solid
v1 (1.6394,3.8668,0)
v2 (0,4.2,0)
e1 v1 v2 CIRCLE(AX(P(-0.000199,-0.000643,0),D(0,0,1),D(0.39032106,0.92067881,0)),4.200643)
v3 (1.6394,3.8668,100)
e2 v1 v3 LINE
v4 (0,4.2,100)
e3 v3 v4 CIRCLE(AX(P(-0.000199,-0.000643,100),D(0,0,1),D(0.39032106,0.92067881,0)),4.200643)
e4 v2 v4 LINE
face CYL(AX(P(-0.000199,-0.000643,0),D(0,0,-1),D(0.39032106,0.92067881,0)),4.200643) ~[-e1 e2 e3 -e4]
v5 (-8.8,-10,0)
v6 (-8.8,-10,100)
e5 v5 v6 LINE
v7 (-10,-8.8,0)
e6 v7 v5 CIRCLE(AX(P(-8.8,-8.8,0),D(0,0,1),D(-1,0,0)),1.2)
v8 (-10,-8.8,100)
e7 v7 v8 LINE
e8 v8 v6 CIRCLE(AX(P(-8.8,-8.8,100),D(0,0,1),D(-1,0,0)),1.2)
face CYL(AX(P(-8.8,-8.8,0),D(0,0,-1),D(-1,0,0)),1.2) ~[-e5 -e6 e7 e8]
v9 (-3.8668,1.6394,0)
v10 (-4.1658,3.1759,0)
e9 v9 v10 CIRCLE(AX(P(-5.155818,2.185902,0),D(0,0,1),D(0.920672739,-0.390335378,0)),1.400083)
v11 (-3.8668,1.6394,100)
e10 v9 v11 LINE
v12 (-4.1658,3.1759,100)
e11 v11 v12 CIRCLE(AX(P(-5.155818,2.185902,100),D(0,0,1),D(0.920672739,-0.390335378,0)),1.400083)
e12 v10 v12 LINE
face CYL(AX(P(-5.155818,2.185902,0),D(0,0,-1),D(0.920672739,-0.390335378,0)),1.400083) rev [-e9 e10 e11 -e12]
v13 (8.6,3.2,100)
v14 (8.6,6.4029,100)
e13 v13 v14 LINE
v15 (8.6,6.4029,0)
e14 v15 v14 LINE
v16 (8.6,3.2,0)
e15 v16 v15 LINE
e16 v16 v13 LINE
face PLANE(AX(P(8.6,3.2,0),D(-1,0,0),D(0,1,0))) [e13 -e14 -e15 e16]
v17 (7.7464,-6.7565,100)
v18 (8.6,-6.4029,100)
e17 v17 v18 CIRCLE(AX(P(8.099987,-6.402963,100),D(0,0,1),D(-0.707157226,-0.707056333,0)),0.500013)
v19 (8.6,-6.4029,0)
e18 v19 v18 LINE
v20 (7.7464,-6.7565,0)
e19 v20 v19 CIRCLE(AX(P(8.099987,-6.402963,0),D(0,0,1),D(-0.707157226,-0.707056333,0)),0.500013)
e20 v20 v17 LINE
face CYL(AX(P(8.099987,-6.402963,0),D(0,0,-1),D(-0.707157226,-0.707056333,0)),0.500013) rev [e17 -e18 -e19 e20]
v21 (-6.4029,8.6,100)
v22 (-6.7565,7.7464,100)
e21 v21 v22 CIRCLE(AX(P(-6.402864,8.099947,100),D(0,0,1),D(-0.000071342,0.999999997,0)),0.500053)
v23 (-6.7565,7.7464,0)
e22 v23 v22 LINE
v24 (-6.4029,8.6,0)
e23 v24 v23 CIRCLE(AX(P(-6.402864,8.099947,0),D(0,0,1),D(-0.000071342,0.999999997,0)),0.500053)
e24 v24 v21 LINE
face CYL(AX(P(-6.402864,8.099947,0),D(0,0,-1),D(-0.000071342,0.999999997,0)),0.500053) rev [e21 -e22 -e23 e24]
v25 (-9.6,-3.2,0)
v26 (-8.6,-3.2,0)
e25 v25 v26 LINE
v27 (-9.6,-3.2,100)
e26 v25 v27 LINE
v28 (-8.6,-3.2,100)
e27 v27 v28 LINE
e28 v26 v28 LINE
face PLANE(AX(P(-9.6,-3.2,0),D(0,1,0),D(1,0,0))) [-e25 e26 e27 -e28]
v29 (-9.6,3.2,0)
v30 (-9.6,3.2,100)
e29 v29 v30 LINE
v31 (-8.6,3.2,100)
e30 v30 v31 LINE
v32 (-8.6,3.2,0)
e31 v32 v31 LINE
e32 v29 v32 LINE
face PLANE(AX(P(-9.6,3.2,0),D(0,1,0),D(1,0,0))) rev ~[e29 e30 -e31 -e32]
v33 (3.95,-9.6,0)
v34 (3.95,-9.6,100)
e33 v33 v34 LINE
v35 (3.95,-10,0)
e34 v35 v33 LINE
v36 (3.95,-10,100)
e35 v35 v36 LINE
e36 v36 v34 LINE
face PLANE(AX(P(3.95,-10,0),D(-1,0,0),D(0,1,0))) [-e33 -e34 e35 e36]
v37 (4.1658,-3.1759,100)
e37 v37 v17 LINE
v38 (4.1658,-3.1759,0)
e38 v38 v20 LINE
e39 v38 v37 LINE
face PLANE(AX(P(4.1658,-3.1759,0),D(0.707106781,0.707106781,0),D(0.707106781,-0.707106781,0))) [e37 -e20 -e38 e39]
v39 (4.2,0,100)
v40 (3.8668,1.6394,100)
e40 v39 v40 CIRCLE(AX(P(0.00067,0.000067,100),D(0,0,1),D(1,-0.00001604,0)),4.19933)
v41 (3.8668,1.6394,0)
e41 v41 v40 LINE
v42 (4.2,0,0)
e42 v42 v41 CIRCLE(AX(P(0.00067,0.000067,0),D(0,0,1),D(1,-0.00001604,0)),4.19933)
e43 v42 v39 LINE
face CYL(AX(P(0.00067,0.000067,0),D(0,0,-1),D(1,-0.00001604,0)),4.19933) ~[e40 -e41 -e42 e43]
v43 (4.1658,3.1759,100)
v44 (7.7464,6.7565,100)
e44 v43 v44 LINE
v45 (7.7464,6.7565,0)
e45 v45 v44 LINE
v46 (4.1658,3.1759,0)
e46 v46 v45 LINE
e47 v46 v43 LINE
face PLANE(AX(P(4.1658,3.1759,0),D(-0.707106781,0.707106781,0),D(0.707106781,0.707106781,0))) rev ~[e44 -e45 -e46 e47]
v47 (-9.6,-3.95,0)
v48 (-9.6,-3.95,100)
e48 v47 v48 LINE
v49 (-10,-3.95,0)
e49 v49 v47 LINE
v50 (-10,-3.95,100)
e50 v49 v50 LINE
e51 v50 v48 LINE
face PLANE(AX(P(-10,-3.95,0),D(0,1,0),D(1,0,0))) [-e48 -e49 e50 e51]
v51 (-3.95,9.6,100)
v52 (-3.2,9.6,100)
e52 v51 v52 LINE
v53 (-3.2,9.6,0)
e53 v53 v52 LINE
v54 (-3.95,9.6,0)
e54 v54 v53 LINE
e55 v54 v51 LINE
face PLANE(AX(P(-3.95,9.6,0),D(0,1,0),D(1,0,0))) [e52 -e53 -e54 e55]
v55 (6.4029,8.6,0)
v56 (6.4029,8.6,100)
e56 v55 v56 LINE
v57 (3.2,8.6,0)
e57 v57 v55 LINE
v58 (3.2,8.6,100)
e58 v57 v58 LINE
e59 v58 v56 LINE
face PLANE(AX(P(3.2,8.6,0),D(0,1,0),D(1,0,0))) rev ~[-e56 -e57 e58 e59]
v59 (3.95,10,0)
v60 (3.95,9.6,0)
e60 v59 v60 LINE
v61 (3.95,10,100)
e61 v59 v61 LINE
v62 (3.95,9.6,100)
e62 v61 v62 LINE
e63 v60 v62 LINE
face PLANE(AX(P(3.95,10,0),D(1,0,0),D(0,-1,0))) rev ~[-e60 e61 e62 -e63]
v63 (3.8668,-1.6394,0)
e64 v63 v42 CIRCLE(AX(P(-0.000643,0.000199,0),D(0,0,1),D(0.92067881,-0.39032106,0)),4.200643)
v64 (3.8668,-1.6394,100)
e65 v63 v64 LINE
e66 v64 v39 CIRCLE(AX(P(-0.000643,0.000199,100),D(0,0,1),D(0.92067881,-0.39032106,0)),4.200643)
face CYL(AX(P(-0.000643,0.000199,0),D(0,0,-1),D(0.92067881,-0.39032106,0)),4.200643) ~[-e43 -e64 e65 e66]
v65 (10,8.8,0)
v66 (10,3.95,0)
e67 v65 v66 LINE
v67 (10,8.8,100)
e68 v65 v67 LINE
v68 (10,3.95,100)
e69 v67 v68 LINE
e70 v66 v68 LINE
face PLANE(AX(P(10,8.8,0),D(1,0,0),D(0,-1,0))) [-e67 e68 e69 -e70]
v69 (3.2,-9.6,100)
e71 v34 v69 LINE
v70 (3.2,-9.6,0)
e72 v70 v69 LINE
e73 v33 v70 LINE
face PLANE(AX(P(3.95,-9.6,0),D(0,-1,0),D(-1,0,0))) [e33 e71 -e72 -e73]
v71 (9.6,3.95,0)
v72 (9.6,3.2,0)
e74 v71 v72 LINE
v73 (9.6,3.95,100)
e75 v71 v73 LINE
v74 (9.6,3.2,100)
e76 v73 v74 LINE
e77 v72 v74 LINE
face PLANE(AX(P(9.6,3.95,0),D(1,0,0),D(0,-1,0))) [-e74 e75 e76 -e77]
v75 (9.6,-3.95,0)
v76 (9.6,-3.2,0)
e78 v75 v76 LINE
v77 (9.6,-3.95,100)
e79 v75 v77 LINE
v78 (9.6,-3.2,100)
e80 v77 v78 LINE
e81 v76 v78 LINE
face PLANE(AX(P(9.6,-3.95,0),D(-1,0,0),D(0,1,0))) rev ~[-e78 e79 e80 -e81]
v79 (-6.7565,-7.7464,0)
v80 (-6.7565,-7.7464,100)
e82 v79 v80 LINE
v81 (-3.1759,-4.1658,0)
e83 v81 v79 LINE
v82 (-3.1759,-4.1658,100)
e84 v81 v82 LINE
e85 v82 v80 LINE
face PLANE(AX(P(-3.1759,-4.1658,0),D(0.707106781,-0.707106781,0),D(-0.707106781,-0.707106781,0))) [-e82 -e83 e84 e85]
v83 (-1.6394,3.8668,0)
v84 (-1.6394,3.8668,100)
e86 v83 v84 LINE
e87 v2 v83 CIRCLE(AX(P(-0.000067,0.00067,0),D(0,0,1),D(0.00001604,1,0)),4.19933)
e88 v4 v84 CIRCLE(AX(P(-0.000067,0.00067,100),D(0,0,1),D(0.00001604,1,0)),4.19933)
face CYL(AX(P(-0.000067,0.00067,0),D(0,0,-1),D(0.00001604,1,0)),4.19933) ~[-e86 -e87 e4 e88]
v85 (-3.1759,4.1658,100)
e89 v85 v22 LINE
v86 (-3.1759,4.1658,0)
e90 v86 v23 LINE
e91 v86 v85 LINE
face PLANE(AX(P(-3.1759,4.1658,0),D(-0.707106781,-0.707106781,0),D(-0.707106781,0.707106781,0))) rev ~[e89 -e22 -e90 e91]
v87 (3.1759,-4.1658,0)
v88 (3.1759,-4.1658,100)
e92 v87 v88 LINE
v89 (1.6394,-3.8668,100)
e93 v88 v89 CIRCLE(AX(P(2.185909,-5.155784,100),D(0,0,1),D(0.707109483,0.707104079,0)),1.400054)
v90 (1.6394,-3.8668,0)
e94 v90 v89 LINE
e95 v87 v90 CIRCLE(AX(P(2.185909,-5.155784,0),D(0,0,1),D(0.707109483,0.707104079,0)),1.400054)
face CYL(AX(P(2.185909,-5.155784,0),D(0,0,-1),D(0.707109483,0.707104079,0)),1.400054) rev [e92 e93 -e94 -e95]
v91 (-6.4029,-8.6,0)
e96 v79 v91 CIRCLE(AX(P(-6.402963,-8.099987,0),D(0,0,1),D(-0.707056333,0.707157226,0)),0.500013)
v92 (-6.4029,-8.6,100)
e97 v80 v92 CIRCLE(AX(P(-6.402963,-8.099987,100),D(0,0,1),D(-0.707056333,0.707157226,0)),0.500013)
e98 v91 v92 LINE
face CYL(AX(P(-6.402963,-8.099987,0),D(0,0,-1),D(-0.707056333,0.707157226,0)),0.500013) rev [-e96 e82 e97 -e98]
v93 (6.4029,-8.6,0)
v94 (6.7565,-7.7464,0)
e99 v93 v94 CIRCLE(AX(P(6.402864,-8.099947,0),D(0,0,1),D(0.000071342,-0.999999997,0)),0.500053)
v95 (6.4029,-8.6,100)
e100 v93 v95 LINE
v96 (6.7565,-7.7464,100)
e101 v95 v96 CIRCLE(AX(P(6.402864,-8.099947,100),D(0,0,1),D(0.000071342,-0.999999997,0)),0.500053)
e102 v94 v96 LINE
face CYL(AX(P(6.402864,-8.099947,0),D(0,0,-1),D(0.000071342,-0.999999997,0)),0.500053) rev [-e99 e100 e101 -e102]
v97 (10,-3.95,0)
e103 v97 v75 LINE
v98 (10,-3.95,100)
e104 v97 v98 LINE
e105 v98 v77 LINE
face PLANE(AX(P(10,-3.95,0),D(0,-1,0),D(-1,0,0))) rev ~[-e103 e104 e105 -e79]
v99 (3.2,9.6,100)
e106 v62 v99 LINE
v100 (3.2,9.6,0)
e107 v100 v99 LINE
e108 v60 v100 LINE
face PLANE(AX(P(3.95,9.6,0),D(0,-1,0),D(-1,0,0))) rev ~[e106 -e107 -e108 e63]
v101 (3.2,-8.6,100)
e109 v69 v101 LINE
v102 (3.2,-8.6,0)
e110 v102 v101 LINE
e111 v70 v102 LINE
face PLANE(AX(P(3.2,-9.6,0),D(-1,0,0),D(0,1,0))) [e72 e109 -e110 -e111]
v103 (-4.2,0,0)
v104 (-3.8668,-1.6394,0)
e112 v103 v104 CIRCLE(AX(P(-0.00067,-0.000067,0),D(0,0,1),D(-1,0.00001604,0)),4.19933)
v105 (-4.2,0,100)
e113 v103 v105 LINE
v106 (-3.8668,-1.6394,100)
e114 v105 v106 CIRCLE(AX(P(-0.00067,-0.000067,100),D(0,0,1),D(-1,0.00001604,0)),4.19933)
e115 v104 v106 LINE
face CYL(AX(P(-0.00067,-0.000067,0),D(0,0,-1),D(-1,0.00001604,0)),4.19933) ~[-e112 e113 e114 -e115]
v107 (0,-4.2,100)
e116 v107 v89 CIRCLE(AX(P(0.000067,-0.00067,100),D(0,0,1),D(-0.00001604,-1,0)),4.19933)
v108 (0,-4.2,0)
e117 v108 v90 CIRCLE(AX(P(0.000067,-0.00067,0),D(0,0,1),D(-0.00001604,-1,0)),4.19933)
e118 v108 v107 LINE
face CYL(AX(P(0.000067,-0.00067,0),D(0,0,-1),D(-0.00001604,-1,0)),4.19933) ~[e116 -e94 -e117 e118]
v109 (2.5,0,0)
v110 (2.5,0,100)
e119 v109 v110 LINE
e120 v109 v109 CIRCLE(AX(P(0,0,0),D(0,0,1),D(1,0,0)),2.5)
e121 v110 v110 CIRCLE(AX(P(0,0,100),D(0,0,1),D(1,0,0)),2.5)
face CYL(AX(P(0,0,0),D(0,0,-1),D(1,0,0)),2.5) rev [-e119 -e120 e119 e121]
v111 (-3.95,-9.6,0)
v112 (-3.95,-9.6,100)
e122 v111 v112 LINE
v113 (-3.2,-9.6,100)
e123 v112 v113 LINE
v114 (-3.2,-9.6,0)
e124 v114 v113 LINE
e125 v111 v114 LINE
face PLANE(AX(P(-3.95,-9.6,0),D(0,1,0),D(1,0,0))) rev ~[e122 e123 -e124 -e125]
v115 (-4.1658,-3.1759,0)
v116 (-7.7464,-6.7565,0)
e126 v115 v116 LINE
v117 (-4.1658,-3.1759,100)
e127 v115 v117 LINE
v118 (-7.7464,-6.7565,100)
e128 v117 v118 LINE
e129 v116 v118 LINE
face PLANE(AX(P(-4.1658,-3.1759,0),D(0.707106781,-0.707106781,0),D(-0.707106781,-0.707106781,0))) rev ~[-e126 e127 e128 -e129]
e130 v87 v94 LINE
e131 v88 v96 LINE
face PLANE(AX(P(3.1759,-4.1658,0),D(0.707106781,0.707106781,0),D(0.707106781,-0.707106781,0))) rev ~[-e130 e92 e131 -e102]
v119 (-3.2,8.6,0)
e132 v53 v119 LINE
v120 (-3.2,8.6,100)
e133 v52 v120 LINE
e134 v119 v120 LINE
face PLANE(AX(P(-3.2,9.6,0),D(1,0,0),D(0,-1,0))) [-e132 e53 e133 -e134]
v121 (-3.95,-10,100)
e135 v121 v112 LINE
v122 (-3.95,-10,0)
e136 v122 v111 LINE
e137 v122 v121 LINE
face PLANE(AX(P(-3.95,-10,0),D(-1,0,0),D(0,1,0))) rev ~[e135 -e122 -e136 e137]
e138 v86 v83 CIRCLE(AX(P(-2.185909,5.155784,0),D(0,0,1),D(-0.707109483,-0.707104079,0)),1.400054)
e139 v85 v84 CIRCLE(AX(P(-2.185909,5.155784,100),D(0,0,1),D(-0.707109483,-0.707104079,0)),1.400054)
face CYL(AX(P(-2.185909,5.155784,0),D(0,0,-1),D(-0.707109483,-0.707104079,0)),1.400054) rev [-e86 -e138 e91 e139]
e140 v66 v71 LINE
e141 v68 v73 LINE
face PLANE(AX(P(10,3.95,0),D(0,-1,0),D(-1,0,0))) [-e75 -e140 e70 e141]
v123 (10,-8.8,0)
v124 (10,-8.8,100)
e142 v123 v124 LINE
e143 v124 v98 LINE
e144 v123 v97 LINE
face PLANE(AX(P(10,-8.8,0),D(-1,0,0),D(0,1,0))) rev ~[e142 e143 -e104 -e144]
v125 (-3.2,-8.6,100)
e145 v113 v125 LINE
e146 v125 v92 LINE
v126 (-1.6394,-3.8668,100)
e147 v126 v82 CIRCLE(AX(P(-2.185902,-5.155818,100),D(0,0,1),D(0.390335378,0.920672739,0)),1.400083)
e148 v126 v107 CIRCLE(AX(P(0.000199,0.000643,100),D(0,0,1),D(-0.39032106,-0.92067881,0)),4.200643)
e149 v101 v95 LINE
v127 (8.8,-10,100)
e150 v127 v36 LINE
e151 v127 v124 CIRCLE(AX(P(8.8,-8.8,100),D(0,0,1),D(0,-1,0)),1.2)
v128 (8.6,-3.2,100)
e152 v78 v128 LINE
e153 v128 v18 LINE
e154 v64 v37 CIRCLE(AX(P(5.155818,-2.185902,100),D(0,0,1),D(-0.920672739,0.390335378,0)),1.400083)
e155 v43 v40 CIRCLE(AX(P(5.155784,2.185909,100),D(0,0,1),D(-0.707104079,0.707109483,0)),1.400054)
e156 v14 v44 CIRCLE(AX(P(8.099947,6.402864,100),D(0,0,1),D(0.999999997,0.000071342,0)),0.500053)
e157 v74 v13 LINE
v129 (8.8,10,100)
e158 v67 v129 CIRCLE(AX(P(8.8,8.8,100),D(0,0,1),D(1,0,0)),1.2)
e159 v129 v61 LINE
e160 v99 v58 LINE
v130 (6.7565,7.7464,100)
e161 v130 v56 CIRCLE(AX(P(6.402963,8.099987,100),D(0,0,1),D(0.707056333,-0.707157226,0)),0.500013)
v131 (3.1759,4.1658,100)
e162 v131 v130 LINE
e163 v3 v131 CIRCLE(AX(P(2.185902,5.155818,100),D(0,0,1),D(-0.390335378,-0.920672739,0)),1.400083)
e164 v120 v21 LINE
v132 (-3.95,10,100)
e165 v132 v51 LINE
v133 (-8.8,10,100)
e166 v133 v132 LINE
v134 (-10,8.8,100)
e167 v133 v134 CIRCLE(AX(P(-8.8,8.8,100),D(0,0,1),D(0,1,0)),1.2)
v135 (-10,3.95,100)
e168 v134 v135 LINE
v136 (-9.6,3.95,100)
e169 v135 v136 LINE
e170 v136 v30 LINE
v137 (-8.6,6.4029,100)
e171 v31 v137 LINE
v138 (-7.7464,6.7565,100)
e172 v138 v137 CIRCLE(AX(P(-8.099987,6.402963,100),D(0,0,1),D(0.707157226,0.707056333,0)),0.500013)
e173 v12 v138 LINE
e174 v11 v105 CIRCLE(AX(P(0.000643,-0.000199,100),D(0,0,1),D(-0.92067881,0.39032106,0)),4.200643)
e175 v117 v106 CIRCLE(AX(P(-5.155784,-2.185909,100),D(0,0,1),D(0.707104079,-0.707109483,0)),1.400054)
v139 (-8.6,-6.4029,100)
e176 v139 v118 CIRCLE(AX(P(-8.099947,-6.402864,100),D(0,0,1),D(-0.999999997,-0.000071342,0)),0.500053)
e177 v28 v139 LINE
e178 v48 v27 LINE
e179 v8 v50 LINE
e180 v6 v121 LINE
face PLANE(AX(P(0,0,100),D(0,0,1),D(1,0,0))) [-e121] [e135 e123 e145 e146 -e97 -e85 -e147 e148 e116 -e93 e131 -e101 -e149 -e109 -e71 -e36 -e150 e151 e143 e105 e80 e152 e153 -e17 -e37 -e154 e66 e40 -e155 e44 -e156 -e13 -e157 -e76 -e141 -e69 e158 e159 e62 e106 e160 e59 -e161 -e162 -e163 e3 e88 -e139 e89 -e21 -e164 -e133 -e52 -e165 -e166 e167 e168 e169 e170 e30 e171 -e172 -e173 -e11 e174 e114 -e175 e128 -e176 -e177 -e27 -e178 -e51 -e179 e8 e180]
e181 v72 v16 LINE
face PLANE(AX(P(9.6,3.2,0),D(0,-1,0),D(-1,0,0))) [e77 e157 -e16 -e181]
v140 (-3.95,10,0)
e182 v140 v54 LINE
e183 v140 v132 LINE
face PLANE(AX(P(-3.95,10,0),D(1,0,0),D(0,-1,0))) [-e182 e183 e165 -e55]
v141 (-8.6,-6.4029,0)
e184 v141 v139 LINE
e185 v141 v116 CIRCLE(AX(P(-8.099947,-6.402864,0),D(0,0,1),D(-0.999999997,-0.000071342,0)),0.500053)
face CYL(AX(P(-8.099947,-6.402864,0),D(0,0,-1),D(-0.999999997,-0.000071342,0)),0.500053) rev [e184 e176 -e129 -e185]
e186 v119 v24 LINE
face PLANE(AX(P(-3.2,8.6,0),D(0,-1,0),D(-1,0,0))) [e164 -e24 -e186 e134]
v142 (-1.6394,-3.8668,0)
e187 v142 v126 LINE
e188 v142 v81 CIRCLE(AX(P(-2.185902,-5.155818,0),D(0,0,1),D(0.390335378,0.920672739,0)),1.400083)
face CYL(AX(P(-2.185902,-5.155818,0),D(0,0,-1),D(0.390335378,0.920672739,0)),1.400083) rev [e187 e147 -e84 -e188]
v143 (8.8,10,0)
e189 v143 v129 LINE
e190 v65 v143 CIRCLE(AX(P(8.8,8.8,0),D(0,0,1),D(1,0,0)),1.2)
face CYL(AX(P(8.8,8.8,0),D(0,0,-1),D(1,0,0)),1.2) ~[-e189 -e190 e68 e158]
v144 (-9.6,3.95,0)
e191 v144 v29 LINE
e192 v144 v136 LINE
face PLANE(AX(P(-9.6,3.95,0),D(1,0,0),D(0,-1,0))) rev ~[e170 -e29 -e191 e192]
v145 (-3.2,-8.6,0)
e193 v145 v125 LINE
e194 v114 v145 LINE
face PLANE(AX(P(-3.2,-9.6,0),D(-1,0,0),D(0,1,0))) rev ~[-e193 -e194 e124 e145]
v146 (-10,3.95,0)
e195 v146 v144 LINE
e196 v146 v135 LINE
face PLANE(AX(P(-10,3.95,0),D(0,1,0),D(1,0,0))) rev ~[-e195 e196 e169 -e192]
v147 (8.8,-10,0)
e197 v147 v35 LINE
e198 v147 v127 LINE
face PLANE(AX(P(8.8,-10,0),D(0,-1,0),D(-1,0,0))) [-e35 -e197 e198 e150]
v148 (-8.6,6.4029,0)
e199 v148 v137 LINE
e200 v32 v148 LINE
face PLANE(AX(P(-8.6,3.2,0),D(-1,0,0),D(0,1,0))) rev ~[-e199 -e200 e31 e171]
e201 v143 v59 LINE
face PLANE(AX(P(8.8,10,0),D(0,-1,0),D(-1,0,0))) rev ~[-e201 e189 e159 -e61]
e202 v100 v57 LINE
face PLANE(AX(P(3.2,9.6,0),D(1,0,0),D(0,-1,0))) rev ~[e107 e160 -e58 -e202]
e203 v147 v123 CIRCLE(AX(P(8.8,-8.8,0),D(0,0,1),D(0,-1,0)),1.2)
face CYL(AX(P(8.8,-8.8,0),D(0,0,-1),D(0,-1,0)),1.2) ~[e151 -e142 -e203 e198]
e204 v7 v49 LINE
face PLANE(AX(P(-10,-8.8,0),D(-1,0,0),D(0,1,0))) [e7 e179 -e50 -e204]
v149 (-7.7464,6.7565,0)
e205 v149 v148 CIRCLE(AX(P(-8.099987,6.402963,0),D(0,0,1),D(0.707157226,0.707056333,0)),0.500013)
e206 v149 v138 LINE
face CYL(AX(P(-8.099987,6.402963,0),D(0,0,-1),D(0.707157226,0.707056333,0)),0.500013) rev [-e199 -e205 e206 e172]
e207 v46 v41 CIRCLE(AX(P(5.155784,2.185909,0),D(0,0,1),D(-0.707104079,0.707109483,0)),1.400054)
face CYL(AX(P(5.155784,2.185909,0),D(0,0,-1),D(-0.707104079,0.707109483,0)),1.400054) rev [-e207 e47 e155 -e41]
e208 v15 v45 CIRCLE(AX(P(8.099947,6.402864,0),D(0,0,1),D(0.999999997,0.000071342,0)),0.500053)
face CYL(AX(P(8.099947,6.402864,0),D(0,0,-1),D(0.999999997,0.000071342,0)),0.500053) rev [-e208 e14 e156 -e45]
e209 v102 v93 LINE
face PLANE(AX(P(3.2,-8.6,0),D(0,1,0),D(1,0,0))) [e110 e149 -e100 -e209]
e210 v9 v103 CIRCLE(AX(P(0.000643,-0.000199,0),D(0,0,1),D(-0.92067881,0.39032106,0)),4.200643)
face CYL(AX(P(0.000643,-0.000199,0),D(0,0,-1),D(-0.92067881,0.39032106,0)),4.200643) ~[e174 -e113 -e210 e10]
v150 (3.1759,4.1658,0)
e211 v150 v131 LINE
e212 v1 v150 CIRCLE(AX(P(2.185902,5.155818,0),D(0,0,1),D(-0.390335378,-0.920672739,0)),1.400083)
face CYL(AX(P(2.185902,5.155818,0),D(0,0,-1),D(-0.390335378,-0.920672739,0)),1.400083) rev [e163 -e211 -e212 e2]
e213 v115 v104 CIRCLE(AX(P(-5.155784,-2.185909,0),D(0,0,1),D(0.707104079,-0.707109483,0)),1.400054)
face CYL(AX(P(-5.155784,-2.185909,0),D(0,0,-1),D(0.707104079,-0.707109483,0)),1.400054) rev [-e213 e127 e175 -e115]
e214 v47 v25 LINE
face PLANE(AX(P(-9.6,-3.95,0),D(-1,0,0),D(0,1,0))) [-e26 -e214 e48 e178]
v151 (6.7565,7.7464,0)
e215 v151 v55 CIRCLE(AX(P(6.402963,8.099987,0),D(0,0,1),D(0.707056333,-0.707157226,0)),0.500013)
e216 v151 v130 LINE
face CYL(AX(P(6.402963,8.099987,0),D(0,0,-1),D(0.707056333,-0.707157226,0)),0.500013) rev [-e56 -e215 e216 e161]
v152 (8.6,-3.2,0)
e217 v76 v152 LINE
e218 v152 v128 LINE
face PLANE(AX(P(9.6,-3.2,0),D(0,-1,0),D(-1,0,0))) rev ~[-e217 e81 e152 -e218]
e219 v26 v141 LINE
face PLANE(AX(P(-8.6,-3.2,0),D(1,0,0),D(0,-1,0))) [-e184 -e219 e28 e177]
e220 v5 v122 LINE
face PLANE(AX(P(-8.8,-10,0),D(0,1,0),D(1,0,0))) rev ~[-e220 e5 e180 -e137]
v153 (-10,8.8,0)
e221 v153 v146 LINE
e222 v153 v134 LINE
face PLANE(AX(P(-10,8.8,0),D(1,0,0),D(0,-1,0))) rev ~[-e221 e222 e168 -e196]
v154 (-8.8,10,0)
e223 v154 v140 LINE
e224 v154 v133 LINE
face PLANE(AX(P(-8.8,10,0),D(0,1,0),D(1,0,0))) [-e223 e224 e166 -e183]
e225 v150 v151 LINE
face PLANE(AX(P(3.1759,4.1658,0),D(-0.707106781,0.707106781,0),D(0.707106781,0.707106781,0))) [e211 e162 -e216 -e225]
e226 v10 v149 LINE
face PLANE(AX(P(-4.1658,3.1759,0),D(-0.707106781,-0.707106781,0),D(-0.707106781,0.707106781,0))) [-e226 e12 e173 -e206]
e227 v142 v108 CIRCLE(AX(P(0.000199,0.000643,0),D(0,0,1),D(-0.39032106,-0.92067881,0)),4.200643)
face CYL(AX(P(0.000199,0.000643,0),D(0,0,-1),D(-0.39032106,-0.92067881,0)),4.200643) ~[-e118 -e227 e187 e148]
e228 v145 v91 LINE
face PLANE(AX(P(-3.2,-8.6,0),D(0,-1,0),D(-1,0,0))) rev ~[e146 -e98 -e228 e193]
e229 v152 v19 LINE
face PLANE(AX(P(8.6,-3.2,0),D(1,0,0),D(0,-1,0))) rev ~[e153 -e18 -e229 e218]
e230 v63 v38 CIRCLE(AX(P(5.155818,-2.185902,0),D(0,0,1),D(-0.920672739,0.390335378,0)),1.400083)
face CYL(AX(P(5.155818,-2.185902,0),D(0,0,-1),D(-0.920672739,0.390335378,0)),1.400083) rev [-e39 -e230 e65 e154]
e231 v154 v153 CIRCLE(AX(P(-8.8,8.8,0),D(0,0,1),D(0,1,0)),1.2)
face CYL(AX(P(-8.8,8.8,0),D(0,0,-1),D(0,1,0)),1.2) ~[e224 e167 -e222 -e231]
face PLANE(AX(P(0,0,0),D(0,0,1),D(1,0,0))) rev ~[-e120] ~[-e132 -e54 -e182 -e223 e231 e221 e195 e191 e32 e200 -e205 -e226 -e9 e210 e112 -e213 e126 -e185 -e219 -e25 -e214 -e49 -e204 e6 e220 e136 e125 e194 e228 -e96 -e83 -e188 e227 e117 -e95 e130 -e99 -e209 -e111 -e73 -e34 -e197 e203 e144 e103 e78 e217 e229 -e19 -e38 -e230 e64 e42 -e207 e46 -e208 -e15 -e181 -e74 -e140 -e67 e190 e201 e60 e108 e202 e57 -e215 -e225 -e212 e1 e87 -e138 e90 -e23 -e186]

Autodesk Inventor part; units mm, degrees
ref_plane "YZ Plane" through (0, 0, 0) normal (1, 0, 0) x (0, 1, 0)
ref_plane "Start Plane" through (0, 0, 0) normal (0, 0, 1) x (1, 0, 0)
ref_plane "End Plane" through (0, 0, 100) normal (0, 0, 1) x (1, 0, 0)
sketch "Sketch2" plane through (0, 0, 0) normal (0, 0, 1) x (1, 0, 0)
  circle A0 centre (0, 0) radius 2.5
  circle A1 centre (0, 0) radius 4.2 construction
  line L0 (10, -10) -> (-10, -10) construction
  line L1 (-10, -10) -> (-10, 10) construction
  line L2 (-10, 10) -> (10, 10) construction
  line L3 (10, 10) -> (10, -10) construction
  line L4 (10, -10) -> (-10, 10) construction
  line L5 (-10, -10) -> (10, 10) construction
  line L6 (-4.1658, 3.1759) -> (-7.7464, 6.7565)
  line L7 (-10, 8.8) -> (-10, 3.95)
  line L8 (-10, 3.95) -> (-9.6, 3.95)
  line L9 (-9.6, 3.95) -> (-9.6, 3.2)
  line L10 (-9.6, 3.2) -> (-8.6, 3.2)
  line L11 (-8.6, 3.2) -> (-8.6, 6.4029)
  line L12 (-10, 0) -> (0, 0) construction
  line L13 (-8.8, 10) -> (-3.95, 10)
  line L14 (-3.95, 10) -> (-3.95, 9.6)
  line L15 (-3.95, 9.6) -> (-3.2, 9.6)
  line L16 (-3.2, 9.6) -> (-3.2, 8.6)
  line L17 (-3.2, 8.6) -> (-6.4029, 8.6)
  arc A2 (-8.8, 10) -> (-10, 8.8) centre (-8.8, 8.8) ccw
  arc A3 (-6.4029, 8.6) -> (-6.7565, 7.7464) centre (-6.4029, 8.1) ccw
  arc A4 (-7.7464, 6.7565) -> (-8.6, 6.4029) centre (-8.1, 6.4029) ccw
  arc A5 (-3.8668, 1.6394) -> (-4.2, 0) centre (0, 0) ccw
  arc A6 (-3.8668, 1.6394) -> (-4.1658, 3.1759) centre (-5.1558, 2.1859) ccw
  line L18 (-3.1759, 4.1658) -> (-6.7565, 7.7464)
  arc A7 (0, 4.2) -> (-1.6394, 3.8668) centre (0, 0) ccw
  arc A8 (-3.1759, 4.1658) -> (-1.6394, 3.8668) centre (-2.1859, 5.1558) ccw
  line L19 (-3.2, -9.6) -> (-3.2, -8.6)
  line L20 (-3.2, -8.6) -> (-6.4029, -8.6)
  line L21 (-8.8, -10) -> (-3.95, -10)
  arc A9 (-1.6394, -3.8668) -> (-3.1759, -4.1658) centre (-2.1859, -5.1558) ccw
  line L22 (-3.1759, -4.1658) -> (-6.7565, -7.7464)
  line L23 (0, -10) -> (0, 0) construction
  arc A10 (-4.1658, -3.1759) -> (-3.8668, -1.6394) centre (-5.1558, -2.1859) ccw
  line L24 (-4.1658, -3.1759) -> (-7.7464, -6.7565)
  line L25 (-3.95, -9.6) -> (-3.2, -9.6)
  line L26 (-3.95, -10) -> (-3.95, -9.6)
  arc A11 (-1.6394, -3.8668) -> (0, -4.2) centre (0, 0) ccw
  arc A12 (-4.2, 0) -> (-3.8668, -1.6394) centre (0, 0) ccw
  line L27 (-9.6, -3.95) -> (-9.6, -3.2)
  arc A13 (-6.7565, -7.7464) -> (-6.4029, -8.6) centre (-6.4029, -8.1) ccw
  arc A14 (-8.6, -6.4029) -> (-7.7464, -6.7565) centre (-8.1, -6.4029) ccw
  line L28 (-8.6, -3.2) -> (-8.6, -6.4029)
  line L29 (-9.6, -3.2) -> (-8.6, -3.2)
  line L30 (-10, -3.95) -> (-9.6, -3.95)
  line L31 (-10, -8.8) -> (-10, -3.95)
  arc A15 (-10, -8.8) -> (-8.8, -10) centre (-8.8, -8.8) ccw
  line L32 (9.6, -3.2) -> (8.6, -3.2)
  line L33 (8.6, -3.2) -> (8.6, -6.4029)
  line L34 (10, -8.8) -> (10, -3.95)
  arc A16 (3.8668, -1.6394) -> (4.1658, -3.1759) centre (5.1558, -2.1859) ccw
  line L35 (4.1658, -3.1759) -> (7.7464, -6.7565)
  line L36 (10, 0) -> (0, 0) construction
  arc A17 (3.1759, -4.1658) -> (1.6394, -3.8668) centre (2.1859, -5.1558) ccw
  line L37 (3.1759, -4.1658) -> (6.7565, -7.7464)
  line L38 (9.6, -3.95) -> (9.6, -3.2)
  line L39 (10, -3.95) -> (9.6, -3.95)
  arc A18 (3.8668, -1.6394) -> (4.2, 0) centre (0, 0) ccw
  arc A19 (0, -4.2) -> (1.6394, -3.8668) centre (0, 0) ccw
  line L40 (3.95, -9.6) -> (3.2, -9.6)
  arc A20 (7.7464, -6.7565) -> (8.6, -6.4029) centre (8.1, -6.4029) ccw
  arc A21 (6.4029, -8.6) -> (6.7565, -7.7464) centre (6.4029, -8.1) ccw
  line L41 (3.2, -8.6) -> (6.4029, -8.6)
  line L42 (3.2, -9.6) -> (3.2, -8.6)
  line L43 (3.95, -10) -> (3.95, -9.6)
  line L44 (8.8, -10) -> (3.95, -10)
  arc A22 (8.8, -10) -> (10, -8.8) centre (8.8, -8.8) ccw
  line L45 (3.2, 9.6) -> (3.2, 8.6)
  line L46 (3.2, 8.6) -> (6.4029, 8.6)
  line L47 (8.8, 10) -> (3.95, 10)
  arc A23 (1.6394, 3.8668) -> (3.1759, 4.1658) centre (2.1859, 5.1558) ccw
  line L48 (3.1759, 4.1658) -> (6.7565, 7.7464)
  line L49 (0, 10) -> (0, 0) construction
  arc A24 (4.1658, 3.1759) -> (3.8668, 1.6394) centre (5.1558, 2.1859) ccw
  line L50 (4.1658, 3.1759) -> (7.7464, 6.7565)
  line L51 (3.95, 9.6) -> (3.2, 9.6)
  line L52 (3.95, 10) -> (3.95, 9.6)
  arc A25 (1.6394, 3.8668) -> (0, 4.2) centre (0, 0) ccw
  arc A26 (4.2, 0) -> (3.8668, 1.6394) centre (0, 0) ccw
  line L53 (9.6, 3.95) -> (9.6, 3.2)
  arc A27 (6.7565, 7.7464) -> (6.4029, 8.6) centre (6.4029, 8.1) ccw
  arc A28 (8.6, 6.4029) -> (7.7464, 6.7565) centre (8.1, 6.4029) ccw
  line L54 (8.6, 3.2) -> (8.6, 6.4029)
  line L55 (9.6, 3.2) -> (8.6, 3.2)
  line L56 (10, 3.95) -> (9.6, 3.95)
  line L57 (10, 8.8) -> (10, 3.95)
  arc A29 (10, 8.8) -> (8.8, 10) centre (8.8, 8.8) ccw
  point P0 (-3.4233, 2.4333)
  point P1 (-8.6, 7.6101)
  point P2 (-7.6101, 8.6)
  point P3 (-7.6101, -8.6)
  point P4 (-10, -10)
  point P5 (-2.4333, -3.4233)
  point P6 (-8.6, -7.6101)
  point P7 (8.6, -7.6101)
  point P8 (10, -10)
  point P9 (3.4233, -2.4333)
  point P10 (7.6101, -8.6)
  point P11 (7.6101, 8.6)
  point P12 (10, 10)
  point P13 (2.4333, 3.4233)
  point P14 (8.6, 7.6101)
  point P15 (-4.2, 0)
  point P16 (0, -4.2)
  point P17 (4.2, 0)
  point P18 (0, 4.2)
  dimension "d8" = 5
  dimension "d9" = 8.4
  dimension "d10" = 20
  dimension "d11" = 20
  dimension "d13" = 1.4
  dimension "d14" = 3.2
  dimension "d15" = 3.95
  dimension "d16" = 0.4
  dimension "d18" = 1.2
  dimension "d19" = 0.5
  dimension "d20" = 1.4
  dimension "d21" = 1.4
  dimension "d24" = 360
extrude "Body" add sketch "Sketch2" along normal up to surface (100 mm away) from surface at 0
sketch "Sketch11" plane through (0, 0, 0) normal (0, 0, 1) x (1, 0, 0)
  line L0 (0, 0) -> (10, 0)
ref_plane "Work Plane11" through (0, 0, 0) normal (0, -1, 0) x (1, 0, 0)
sketch "Sketch12" plane through (0, 0, 0) normal (0, -1, 0) x (1, 0, 0)
  line L0 (-14, 0) -> (14, 0)
  line L1 (-14, 100) -> (14, 100)
  dimension "d53" = 100
equation "\"G_OFFSET_START\" = 0"
equation "\"G_OFFSET_END\" = 0"
equation "\"G_L\" = d53"
equation "\"G_OFFSET_START1\" = 0"
equation "\"G_OFFSET_END1\" = 0"
equation "\"G_OFFSET_START2\" = 0"
equation "\"G_OFFSET_END2\" = 0"
properties part number "2020Profile" material "Aluminum 6061"
